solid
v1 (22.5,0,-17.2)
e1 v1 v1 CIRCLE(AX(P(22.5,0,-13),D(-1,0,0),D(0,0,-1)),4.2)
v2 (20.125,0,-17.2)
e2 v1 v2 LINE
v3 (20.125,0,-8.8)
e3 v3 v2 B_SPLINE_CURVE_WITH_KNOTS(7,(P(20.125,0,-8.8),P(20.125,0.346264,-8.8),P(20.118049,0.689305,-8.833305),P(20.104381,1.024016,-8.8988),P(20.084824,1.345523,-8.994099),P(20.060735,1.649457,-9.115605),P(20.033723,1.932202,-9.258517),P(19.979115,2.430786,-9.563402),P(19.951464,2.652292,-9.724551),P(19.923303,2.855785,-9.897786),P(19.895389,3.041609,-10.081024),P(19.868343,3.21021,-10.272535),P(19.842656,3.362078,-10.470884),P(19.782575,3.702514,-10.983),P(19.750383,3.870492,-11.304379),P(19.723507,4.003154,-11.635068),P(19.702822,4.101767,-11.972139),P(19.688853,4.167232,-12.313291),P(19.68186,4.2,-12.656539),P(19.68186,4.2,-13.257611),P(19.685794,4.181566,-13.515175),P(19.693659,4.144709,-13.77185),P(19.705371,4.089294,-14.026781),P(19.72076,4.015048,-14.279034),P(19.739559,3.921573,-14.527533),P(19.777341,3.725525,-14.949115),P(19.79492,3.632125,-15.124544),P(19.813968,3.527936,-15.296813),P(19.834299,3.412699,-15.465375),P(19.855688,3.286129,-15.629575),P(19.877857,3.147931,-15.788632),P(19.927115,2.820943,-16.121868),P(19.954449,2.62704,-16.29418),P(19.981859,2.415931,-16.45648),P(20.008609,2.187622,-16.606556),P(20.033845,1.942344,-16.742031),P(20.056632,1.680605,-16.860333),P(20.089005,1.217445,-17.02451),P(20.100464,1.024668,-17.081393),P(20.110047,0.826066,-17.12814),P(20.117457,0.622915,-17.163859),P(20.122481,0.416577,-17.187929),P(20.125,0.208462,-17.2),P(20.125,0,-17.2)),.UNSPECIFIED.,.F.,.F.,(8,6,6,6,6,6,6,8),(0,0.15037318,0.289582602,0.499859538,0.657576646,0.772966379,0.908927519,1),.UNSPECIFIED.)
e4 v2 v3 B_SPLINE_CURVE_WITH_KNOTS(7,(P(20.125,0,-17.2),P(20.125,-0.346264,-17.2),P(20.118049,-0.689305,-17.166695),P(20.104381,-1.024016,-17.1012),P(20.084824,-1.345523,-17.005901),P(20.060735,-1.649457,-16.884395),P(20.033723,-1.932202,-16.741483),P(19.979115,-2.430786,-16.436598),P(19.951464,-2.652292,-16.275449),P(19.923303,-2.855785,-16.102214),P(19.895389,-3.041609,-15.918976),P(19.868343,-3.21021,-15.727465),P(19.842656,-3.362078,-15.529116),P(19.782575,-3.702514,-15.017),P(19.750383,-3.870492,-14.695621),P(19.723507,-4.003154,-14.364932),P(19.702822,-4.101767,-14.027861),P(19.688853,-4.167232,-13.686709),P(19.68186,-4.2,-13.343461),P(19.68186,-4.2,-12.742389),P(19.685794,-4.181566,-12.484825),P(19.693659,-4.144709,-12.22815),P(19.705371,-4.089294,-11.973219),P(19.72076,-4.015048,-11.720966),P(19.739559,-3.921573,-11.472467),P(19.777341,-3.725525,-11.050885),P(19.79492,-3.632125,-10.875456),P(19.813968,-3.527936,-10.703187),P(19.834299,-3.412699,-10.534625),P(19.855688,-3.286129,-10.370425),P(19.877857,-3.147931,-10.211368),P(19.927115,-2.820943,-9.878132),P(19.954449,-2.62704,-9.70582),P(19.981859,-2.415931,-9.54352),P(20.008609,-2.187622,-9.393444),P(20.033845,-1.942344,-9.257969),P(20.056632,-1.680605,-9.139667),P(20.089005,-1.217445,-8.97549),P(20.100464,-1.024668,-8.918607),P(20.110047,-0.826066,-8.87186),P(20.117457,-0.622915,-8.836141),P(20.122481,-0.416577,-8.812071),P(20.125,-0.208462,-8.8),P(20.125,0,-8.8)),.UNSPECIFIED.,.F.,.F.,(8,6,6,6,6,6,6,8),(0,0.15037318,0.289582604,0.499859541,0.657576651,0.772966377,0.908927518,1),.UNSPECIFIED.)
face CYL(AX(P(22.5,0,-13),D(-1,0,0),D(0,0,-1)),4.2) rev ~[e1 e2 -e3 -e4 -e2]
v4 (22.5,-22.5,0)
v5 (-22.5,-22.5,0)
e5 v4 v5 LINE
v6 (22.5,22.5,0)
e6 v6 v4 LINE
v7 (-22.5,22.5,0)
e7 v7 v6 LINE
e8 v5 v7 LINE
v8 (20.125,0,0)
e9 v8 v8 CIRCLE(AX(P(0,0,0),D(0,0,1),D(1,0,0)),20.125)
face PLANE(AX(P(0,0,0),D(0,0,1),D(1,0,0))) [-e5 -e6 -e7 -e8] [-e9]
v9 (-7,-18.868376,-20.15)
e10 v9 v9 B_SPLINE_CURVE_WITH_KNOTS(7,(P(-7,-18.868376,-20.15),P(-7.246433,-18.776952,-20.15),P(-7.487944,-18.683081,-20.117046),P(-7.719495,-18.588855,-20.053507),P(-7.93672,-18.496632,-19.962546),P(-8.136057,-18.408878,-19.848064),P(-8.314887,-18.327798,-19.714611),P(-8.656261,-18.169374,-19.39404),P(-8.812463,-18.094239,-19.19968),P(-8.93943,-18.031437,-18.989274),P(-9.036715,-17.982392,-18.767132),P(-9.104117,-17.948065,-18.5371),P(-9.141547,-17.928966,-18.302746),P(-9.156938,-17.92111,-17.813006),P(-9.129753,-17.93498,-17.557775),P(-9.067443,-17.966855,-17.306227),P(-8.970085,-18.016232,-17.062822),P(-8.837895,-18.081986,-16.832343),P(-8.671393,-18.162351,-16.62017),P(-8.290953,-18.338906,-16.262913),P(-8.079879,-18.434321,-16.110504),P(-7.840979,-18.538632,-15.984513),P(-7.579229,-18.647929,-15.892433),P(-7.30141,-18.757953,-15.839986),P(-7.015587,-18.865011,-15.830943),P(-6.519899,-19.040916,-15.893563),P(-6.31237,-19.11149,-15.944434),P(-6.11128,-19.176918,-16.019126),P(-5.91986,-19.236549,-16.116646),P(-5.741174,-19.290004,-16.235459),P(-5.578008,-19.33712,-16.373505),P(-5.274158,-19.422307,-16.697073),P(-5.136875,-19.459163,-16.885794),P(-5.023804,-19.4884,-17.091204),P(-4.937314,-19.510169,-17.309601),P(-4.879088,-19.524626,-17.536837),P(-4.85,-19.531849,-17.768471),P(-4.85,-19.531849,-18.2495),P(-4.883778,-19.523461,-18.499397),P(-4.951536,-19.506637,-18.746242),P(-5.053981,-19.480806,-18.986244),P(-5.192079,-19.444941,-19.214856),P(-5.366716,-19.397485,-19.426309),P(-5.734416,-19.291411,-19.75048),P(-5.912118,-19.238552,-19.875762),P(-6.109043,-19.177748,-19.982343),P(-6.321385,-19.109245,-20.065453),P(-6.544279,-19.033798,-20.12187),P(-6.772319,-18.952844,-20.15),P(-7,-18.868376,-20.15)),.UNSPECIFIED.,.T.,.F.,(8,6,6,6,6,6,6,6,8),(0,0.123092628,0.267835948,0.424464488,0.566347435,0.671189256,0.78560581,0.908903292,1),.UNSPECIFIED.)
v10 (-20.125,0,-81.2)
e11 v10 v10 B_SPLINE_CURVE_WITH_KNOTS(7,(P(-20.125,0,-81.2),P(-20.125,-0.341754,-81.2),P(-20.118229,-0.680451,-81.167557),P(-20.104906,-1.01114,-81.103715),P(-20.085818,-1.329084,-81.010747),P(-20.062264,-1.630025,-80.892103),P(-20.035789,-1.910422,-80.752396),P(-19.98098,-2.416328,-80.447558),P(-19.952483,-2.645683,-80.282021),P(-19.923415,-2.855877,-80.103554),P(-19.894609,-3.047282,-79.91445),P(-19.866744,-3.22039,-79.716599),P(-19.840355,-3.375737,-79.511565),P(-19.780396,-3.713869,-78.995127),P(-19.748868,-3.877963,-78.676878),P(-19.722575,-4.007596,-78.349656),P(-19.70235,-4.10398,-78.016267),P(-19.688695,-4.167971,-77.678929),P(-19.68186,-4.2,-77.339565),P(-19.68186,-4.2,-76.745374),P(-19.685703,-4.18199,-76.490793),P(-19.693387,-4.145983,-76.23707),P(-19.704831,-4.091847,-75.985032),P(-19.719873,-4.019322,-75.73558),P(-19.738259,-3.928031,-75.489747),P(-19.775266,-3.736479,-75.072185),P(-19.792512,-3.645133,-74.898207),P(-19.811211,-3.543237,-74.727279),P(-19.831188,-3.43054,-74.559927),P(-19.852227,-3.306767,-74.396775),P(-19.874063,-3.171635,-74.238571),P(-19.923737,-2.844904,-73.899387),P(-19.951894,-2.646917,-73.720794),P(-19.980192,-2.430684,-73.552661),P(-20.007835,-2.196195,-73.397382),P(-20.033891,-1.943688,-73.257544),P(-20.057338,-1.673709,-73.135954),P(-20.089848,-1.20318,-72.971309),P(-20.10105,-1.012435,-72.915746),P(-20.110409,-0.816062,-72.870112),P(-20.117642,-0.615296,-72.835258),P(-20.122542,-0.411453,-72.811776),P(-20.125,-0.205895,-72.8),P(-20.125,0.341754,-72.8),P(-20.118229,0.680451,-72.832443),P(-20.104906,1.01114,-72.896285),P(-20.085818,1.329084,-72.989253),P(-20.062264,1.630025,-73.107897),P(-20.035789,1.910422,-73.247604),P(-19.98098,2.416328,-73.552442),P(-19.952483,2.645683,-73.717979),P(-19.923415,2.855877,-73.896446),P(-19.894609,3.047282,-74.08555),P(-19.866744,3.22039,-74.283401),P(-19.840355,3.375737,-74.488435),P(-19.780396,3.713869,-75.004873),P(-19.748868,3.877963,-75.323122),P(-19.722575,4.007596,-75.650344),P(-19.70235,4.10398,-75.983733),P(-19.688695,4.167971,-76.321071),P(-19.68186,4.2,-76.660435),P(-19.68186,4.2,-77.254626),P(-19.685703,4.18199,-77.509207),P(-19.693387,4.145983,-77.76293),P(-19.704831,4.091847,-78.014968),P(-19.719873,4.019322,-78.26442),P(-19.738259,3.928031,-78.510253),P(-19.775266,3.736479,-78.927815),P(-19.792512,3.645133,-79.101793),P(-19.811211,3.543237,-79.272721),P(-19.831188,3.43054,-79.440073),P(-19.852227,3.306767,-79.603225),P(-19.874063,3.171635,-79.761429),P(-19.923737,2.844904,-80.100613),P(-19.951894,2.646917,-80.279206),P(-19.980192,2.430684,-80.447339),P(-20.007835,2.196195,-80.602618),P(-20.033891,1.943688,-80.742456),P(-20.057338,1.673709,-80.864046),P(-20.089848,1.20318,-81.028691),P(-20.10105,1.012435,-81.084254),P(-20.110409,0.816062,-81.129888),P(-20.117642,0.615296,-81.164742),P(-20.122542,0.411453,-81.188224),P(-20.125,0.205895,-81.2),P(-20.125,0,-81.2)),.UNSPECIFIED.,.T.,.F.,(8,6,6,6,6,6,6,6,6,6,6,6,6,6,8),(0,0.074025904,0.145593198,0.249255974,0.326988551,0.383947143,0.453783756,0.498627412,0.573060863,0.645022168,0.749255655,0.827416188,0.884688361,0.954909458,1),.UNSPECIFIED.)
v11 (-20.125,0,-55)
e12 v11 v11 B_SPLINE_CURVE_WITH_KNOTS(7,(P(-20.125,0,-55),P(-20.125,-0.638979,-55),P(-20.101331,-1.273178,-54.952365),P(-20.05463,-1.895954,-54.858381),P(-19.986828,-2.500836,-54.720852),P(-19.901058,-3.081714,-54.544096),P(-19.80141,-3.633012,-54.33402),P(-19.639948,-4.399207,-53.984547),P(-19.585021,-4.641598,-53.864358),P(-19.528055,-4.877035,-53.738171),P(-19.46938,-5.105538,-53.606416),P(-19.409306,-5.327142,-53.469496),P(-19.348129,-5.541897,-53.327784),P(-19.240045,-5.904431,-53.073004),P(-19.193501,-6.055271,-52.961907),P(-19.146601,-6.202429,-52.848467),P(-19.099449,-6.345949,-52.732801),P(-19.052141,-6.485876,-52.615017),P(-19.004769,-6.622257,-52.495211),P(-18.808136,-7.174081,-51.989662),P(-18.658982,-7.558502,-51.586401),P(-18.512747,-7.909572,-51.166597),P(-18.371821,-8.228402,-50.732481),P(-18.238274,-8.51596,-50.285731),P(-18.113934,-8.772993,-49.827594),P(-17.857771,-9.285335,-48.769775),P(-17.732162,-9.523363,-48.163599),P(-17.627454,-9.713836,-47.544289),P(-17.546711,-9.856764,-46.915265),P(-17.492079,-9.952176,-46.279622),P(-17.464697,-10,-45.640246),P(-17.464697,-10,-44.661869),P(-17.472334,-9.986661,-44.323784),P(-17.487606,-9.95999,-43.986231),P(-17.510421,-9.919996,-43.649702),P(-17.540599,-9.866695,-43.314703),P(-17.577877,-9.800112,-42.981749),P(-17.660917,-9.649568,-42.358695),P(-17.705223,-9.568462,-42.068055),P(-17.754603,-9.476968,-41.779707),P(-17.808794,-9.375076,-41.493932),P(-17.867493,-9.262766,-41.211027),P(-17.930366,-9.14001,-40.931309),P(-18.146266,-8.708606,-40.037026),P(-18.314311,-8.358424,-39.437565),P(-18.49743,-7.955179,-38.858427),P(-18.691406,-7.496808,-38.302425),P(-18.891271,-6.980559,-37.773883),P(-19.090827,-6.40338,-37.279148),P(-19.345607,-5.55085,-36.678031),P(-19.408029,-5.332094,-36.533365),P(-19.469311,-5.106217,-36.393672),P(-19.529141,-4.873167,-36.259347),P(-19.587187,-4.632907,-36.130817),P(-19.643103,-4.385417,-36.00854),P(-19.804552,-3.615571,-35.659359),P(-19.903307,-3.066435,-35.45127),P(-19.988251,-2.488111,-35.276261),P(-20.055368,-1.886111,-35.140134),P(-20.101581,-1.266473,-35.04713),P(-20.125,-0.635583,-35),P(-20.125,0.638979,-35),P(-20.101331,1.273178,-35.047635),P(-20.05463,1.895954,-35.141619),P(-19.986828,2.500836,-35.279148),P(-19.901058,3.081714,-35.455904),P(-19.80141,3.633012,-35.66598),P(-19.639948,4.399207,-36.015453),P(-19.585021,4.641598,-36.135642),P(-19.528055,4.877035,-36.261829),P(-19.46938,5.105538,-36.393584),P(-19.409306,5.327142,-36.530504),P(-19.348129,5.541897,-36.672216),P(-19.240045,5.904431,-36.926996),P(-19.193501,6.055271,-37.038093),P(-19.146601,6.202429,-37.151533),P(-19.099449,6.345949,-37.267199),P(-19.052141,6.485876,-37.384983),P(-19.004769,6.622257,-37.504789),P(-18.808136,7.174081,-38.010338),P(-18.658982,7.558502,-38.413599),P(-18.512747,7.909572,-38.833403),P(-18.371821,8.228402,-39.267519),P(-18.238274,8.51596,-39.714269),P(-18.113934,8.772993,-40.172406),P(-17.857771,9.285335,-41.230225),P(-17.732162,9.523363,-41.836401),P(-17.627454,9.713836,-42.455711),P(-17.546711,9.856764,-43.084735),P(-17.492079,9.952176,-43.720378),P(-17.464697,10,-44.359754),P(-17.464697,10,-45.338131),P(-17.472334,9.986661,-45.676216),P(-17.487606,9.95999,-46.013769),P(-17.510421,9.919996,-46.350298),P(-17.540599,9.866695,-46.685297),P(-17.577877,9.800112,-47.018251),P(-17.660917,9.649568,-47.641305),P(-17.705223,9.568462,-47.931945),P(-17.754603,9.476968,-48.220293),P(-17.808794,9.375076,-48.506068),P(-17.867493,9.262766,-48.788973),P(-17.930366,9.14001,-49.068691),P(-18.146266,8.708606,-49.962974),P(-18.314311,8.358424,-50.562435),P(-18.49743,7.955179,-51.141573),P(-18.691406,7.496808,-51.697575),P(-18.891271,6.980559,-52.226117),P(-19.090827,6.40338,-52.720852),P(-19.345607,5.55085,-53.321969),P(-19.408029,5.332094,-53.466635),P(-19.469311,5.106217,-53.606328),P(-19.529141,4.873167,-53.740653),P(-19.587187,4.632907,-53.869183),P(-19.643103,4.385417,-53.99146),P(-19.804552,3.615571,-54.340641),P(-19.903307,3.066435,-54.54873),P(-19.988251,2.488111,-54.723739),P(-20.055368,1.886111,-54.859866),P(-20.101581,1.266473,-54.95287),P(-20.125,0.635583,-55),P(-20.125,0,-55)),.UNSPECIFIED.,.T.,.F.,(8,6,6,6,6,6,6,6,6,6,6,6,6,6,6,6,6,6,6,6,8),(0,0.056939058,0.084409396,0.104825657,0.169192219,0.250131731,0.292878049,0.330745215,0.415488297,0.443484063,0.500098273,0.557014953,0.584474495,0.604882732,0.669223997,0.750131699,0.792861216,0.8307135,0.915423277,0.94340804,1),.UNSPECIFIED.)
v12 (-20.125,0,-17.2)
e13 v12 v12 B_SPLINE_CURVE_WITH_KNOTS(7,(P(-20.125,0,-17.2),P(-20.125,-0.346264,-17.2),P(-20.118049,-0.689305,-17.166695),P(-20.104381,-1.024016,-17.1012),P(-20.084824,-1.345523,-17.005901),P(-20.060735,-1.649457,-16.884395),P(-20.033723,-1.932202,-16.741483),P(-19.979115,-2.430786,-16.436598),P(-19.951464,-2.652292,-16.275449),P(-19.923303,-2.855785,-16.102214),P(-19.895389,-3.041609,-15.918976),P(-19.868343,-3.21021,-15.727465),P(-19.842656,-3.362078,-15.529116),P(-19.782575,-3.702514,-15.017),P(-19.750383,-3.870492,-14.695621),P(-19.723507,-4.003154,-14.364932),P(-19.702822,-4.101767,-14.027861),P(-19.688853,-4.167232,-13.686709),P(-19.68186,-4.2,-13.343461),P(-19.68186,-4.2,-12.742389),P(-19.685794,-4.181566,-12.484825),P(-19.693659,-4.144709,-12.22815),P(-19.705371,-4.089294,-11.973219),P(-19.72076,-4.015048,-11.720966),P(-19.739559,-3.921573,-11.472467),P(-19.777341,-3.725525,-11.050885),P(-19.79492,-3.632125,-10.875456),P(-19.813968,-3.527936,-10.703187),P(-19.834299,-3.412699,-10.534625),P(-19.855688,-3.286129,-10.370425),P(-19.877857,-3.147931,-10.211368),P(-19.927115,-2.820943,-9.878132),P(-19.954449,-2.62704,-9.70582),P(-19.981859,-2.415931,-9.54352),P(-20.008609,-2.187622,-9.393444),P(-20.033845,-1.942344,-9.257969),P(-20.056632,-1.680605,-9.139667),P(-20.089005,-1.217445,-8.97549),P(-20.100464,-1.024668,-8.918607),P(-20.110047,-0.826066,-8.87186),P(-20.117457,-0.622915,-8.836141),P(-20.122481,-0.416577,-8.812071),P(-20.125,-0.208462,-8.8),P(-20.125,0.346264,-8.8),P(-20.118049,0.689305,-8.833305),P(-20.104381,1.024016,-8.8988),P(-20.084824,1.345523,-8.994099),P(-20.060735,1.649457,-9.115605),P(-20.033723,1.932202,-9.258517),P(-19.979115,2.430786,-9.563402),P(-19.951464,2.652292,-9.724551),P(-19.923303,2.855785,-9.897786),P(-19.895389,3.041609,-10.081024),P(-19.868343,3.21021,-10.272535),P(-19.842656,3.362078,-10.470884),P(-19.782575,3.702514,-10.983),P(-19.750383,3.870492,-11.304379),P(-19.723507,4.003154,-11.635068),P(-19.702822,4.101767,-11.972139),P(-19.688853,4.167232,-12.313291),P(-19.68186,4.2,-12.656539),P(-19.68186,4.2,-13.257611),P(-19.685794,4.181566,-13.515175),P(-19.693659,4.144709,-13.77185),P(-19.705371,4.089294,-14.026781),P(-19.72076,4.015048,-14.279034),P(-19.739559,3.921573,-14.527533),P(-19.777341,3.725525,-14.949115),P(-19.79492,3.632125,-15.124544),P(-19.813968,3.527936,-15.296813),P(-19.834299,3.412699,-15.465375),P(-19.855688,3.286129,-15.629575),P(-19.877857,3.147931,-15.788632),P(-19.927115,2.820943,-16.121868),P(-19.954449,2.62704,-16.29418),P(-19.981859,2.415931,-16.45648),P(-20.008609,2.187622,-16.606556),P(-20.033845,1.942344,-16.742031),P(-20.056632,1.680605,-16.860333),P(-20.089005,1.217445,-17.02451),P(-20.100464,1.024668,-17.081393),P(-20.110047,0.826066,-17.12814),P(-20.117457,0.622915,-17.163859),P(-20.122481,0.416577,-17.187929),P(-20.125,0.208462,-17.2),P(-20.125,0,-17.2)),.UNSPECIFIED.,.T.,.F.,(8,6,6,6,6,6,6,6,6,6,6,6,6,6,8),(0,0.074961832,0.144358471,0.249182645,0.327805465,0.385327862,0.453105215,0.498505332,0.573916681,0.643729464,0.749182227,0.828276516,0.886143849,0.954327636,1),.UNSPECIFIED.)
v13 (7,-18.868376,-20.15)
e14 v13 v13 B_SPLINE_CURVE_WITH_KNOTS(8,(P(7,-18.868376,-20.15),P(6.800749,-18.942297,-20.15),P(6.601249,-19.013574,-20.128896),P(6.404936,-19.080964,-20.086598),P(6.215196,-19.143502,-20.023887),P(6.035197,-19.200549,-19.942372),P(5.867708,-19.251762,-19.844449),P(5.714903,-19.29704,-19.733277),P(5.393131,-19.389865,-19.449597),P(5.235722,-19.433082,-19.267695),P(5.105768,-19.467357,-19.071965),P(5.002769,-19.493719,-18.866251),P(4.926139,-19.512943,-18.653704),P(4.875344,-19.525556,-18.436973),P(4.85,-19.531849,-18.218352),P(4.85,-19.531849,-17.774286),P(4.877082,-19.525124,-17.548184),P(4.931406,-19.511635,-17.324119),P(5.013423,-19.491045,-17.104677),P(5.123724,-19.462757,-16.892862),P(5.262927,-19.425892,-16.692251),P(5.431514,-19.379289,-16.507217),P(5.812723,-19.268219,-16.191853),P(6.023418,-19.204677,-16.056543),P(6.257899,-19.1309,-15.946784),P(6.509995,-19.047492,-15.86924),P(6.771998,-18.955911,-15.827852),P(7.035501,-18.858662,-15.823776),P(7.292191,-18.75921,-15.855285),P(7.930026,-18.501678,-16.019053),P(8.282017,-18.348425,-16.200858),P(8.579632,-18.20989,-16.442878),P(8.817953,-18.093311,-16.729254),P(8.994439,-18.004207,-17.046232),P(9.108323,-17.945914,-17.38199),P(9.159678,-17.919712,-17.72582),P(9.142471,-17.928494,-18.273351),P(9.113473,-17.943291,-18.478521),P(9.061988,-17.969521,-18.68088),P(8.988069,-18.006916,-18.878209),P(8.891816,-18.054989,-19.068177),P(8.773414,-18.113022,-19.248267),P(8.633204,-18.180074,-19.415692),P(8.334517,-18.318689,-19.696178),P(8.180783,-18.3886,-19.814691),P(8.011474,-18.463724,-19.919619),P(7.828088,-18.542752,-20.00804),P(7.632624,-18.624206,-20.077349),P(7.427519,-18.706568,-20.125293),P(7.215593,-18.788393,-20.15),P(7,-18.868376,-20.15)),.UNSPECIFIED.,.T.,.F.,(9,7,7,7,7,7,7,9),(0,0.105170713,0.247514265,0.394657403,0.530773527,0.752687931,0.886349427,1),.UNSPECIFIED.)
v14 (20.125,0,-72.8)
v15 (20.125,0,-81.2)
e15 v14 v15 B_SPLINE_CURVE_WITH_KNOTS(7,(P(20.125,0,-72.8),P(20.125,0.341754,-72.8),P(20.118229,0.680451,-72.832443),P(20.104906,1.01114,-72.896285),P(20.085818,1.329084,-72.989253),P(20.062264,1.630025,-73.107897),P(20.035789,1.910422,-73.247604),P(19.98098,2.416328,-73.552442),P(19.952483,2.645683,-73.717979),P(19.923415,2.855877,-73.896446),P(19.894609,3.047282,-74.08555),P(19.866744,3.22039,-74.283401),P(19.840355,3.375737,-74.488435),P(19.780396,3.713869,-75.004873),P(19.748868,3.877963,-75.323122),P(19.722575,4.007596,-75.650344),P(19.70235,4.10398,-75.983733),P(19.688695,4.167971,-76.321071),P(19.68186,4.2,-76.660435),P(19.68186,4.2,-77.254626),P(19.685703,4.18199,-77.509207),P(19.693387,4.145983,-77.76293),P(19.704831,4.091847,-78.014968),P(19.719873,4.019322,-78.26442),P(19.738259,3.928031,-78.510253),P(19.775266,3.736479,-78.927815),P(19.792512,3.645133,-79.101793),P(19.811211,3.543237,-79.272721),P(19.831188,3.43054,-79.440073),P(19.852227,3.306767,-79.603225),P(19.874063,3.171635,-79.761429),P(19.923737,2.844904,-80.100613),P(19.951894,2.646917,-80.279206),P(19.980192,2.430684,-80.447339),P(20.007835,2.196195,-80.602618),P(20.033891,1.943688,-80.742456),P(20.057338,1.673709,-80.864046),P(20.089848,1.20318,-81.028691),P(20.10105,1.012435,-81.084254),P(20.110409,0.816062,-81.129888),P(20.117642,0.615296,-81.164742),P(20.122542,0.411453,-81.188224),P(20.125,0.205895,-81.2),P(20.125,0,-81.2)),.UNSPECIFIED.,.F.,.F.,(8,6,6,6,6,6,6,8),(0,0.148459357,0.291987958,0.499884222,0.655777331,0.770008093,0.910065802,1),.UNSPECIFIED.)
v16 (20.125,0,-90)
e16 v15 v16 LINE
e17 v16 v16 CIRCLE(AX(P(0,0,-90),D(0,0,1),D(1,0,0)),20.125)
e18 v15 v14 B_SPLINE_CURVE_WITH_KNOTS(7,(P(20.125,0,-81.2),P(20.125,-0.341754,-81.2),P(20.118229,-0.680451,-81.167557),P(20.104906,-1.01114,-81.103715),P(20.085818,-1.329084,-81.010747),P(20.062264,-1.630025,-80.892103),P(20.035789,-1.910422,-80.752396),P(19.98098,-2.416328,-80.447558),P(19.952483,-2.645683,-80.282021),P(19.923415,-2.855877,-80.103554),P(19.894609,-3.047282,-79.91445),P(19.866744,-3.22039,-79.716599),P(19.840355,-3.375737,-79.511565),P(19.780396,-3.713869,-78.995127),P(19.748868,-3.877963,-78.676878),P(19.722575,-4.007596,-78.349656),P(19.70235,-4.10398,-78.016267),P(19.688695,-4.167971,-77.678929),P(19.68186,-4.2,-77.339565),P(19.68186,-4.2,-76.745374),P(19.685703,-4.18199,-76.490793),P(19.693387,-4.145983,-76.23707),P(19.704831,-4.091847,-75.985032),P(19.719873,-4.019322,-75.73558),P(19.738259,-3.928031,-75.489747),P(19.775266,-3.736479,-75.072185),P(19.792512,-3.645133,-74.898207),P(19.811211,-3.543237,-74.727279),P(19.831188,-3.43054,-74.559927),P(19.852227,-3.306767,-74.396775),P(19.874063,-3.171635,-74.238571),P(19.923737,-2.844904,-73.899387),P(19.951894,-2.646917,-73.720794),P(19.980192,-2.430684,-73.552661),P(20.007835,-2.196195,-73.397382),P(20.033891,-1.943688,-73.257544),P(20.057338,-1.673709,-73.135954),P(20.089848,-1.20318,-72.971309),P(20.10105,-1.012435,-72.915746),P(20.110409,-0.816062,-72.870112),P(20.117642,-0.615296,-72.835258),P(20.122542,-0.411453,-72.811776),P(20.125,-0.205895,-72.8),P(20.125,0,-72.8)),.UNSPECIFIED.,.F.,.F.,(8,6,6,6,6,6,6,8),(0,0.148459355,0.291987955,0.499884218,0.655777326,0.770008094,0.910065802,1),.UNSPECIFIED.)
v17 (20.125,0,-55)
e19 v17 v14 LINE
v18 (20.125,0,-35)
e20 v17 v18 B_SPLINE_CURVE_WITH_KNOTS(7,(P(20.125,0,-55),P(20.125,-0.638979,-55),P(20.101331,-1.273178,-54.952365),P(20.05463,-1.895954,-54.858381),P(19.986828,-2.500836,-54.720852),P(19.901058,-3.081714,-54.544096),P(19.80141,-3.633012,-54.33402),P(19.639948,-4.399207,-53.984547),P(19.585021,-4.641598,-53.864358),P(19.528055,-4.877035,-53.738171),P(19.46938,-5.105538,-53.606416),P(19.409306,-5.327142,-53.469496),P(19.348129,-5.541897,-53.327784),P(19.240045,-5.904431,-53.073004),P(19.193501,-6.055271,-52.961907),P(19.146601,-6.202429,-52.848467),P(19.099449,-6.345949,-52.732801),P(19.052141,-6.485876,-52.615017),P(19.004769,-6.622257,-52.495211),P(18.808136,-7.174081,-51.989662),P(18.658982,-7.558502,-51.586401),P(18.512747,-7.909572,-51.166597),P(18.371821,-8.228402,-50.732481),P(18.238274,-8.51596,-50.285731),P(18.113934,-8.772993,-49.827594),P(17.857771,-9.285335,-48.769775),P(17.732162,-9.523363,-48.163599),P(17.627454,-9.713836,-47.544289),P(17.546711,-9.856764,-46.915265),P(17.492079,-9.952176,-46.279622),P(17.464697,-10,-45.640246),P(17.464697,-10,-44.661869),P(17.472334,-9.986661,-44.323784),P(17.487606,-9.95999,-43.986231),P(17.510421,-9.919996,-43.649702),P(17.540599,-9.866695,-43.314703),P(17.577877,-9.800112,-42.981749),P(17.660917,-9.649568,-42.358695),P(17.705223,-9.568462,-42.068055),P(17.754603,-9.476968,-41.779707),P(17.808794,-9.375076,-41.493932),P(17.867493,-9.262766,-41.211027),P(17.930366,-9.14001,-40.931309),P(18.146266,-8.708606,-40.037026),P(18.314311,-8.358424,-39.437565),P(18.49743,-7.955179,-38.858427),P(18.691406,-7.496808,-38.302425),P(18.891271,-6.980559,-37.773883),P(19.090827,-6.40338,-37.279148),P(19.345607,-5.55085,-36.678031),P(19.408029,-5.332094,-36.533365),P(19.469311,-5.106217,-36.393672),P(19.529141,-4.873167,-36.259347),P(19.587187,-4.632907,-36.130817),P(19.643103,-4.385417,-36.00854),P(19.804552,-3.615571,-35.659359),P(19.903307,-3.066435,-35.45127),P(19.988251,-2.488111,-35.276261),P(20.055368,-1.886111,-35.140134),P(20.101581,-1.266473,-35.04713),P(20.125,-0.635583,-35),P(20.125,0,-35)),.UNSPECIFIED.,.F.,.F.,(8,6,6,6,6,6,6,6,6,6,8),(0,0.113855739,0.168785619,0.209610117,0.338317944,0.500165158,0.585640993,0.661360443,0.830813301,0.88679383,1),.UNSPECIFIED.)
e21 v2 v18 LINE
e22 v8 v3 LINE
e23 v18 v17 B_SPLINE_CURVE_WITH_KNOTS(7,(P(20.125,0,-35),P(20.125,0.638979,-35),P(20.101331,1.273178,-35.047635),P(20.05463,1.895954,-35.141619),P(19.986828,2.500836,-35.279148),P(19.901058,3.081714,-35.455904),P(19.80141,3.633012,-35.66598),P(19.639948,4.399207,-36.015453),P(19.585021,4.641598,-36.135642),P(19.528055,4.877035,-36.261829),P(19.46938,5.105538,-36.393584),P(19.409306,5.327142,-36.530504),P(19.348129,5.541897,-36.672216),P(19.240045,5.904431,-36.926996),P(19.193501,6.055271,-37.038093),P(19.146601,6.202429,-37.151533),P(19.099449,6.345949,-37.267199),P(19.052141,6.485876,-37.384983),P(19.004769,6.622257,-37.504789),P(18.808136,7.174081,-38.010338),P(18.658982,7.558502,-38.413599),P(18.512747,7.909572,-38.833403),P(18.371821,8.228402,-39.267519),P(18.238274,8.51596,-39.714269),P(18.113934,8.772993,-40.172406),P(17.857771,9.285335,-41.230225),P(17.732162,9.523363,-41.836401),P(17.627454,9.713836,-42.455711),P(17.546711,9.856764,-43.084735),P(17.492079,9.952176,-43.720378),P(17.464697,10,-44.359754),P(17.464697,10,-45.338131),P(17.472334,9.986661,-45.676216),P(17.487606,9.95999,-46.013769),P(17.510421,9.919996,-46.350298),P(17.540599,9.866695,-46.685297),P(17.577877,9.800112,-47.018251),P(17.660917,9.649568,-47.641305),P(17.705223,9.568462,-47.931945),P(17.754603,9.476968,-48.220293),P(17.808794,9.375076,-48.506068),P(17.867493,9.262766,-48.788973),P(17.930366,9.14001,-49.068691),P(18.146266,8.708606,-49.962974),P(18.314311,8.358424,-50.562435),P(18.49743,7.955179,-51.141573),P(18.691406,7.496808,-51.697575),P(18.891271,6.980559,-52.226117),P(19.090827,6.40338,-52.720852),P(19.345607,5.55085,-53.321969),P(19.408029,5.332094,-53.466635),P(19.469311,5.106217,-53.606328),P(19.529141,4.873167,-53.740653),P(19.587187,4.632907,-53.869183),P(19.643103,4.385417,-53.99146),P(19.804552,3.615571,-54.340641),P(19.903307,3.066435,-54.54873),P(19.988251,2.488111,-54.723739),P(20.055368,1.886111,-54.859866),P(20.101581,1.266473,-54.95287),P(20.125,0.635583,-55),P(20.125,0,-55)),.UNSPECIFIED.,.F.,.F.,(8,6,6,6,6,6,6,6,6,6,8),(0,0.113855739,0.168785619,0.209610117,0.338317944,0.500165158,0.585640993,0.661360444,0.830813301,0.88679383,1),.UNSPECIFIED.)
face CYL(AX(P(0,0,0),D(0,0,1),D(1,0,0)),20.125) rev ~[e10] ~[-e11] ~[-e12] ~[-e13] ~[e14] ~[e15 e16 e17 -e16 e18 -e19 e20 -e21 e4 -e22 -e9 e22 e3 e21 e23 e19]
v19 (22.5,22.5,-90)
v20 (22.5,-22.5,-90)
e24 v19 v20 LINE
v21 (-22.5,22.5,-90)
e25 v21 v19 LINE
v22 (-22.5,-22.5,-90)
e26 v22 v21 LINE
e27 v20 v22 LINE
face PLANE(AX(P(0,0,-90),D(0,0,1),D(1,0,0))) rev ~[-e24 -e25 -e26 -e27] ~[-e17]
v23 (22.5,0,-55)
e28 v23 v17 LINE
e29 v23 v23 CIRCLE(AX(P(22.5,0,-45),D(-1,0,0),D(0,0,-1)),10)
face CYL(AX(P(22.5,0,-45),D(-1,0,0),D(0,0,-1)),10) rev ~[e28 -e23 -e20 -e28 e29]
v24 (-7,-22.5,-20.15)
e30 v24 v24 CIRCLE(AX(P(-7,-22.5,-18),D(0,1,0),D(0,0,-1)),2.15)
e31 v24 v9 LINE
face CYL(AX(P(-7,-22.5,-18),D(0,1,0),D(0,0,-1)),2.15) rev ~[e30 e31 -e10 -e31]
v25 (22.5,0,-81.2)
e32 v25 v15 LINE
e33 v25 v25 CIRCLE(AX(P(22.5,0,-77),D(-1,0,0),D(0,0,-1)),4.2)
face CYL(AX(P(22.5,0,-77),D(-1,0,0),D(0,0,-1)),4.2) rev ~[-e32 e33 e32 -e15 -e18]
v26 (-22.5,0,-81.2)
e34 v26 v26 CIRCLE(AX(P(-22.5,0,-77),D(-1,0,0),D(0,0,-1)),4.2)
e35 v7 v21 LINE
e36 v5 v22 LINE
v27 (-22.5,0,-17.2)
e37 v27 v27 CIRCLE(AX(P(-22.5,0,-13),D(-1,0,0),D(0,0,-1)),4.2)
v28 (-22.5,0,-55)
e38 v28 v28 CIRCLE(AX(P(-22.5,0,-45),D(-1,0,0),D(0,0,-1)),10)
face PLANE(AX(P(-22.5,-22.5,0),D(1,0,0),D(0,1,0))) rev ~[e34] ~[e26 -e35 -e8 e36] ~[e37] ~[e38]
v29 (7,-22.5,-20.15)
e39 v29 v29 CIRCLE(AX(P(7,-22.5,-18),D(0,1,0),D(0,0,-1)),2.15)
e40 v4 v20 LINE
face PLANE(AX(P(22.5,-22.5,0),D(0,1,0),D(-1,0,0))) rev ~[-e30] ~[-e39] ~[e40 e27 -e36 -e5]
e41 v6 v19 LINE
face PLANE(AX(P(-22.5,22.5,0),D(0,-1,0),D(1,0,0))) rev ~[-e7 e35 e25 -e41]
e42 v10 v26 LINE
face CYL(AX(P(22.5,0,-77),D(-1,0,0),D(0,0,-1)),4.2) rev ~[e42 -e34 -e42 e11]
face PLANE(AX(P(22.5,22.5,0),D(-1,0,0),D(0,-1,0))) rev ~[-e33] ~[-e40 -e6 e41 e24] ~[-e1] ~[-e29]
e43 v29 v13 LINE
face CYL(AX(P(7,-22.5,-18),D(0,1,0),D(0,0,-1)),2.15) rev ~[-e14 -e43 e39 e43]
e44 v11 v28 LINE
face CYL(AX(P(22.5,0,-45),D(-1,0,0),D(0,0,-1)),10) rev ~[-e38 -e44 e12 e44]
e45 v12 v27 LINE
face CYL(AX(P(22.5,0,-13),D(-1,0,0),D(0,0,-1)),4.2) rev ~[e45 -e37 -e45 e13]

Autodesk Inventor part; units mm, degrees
ref_plane "YZ Plane" through (0, 0, 0) normal (1, 0, 0) x (0, 1, 0)
ref_plane "XZ Plane" through (0, 0, 0) normal (0, 1, 0) x (-1, 0, 0)
ref_plane "XY Plane" through (0, 0, 0) normal (0, 0, 1) x (1, 0, 0)
sketch "Sketch1" plane through (0, 0, 0) normal (0, 0, 1) x (1, 0, 0)
  line L0 (-22.5, 22.5) -> (22.5, 22.5)
  line L1 (22.5, 22.5) -> (22.5, -22.5)
  line L2 (22.5, -22.5) -> (-22.5, -22.5)
  line L3 (-22.5, -22.5) -> (-22.5, 22.5)
  line L4 (-22.5, 22.5) -> (22.5, -22.5) construction
  line L5 (22.5, 22.5) -> (-22.5, -22.5) construction
  circle A0 centre (0, 0) radius 20.125
  dimension "d0" = 45
  dimension "d1" = 45
  dimension "d2" = 40.25
extrude "Extrusion1" add sketch "Sketch1" against normal blind 90
sketch "Sketch2" plane through (22.5, -22.5, 0) normal (1, 0, 0) x (0, 0, -1)
  line L0 (0, 22.5) -> (13, 22.5)
  line L1 (13, 22.5) -> (77, 22.5)
  dimension "d5" = 13
  dimension "d6" = 64
hole "Hole1" at (22.5, 0, -13) at (22.5, 0, -77) direction (-1, 0, 0) diameter 8.4 end through all
sketch "Sketch3" plane through (22.5, -22.5, 0) normal (1, 0, 0) x (0, 0, -1)
  line L0 (0, 22.5) -> (45, 22.5)
  dimension "d14" = 45
hole "Hole2" at (22.5, 0, -45) direction (-1, 0, 0) diameter 20 end through all
sketch "Sketch4" plane through (-22.5, -22.5, 0) normal (0, -1, 0) x (1, 0, 0)
  line L0 (22.5, 0) -> (22.5, -18)
  line L1 (15.5, -18) -> (29.5, -18)
  dimension "d22" = 18
  dimension "d30" = 14
hole "Hole3" at (-7, -22.5, -18) at (7, -22.5, -18) direction (0, 1, 0) diameter 4.3 depth 8 tip angle 118
properties part number "Bohrschablone_Unten"
